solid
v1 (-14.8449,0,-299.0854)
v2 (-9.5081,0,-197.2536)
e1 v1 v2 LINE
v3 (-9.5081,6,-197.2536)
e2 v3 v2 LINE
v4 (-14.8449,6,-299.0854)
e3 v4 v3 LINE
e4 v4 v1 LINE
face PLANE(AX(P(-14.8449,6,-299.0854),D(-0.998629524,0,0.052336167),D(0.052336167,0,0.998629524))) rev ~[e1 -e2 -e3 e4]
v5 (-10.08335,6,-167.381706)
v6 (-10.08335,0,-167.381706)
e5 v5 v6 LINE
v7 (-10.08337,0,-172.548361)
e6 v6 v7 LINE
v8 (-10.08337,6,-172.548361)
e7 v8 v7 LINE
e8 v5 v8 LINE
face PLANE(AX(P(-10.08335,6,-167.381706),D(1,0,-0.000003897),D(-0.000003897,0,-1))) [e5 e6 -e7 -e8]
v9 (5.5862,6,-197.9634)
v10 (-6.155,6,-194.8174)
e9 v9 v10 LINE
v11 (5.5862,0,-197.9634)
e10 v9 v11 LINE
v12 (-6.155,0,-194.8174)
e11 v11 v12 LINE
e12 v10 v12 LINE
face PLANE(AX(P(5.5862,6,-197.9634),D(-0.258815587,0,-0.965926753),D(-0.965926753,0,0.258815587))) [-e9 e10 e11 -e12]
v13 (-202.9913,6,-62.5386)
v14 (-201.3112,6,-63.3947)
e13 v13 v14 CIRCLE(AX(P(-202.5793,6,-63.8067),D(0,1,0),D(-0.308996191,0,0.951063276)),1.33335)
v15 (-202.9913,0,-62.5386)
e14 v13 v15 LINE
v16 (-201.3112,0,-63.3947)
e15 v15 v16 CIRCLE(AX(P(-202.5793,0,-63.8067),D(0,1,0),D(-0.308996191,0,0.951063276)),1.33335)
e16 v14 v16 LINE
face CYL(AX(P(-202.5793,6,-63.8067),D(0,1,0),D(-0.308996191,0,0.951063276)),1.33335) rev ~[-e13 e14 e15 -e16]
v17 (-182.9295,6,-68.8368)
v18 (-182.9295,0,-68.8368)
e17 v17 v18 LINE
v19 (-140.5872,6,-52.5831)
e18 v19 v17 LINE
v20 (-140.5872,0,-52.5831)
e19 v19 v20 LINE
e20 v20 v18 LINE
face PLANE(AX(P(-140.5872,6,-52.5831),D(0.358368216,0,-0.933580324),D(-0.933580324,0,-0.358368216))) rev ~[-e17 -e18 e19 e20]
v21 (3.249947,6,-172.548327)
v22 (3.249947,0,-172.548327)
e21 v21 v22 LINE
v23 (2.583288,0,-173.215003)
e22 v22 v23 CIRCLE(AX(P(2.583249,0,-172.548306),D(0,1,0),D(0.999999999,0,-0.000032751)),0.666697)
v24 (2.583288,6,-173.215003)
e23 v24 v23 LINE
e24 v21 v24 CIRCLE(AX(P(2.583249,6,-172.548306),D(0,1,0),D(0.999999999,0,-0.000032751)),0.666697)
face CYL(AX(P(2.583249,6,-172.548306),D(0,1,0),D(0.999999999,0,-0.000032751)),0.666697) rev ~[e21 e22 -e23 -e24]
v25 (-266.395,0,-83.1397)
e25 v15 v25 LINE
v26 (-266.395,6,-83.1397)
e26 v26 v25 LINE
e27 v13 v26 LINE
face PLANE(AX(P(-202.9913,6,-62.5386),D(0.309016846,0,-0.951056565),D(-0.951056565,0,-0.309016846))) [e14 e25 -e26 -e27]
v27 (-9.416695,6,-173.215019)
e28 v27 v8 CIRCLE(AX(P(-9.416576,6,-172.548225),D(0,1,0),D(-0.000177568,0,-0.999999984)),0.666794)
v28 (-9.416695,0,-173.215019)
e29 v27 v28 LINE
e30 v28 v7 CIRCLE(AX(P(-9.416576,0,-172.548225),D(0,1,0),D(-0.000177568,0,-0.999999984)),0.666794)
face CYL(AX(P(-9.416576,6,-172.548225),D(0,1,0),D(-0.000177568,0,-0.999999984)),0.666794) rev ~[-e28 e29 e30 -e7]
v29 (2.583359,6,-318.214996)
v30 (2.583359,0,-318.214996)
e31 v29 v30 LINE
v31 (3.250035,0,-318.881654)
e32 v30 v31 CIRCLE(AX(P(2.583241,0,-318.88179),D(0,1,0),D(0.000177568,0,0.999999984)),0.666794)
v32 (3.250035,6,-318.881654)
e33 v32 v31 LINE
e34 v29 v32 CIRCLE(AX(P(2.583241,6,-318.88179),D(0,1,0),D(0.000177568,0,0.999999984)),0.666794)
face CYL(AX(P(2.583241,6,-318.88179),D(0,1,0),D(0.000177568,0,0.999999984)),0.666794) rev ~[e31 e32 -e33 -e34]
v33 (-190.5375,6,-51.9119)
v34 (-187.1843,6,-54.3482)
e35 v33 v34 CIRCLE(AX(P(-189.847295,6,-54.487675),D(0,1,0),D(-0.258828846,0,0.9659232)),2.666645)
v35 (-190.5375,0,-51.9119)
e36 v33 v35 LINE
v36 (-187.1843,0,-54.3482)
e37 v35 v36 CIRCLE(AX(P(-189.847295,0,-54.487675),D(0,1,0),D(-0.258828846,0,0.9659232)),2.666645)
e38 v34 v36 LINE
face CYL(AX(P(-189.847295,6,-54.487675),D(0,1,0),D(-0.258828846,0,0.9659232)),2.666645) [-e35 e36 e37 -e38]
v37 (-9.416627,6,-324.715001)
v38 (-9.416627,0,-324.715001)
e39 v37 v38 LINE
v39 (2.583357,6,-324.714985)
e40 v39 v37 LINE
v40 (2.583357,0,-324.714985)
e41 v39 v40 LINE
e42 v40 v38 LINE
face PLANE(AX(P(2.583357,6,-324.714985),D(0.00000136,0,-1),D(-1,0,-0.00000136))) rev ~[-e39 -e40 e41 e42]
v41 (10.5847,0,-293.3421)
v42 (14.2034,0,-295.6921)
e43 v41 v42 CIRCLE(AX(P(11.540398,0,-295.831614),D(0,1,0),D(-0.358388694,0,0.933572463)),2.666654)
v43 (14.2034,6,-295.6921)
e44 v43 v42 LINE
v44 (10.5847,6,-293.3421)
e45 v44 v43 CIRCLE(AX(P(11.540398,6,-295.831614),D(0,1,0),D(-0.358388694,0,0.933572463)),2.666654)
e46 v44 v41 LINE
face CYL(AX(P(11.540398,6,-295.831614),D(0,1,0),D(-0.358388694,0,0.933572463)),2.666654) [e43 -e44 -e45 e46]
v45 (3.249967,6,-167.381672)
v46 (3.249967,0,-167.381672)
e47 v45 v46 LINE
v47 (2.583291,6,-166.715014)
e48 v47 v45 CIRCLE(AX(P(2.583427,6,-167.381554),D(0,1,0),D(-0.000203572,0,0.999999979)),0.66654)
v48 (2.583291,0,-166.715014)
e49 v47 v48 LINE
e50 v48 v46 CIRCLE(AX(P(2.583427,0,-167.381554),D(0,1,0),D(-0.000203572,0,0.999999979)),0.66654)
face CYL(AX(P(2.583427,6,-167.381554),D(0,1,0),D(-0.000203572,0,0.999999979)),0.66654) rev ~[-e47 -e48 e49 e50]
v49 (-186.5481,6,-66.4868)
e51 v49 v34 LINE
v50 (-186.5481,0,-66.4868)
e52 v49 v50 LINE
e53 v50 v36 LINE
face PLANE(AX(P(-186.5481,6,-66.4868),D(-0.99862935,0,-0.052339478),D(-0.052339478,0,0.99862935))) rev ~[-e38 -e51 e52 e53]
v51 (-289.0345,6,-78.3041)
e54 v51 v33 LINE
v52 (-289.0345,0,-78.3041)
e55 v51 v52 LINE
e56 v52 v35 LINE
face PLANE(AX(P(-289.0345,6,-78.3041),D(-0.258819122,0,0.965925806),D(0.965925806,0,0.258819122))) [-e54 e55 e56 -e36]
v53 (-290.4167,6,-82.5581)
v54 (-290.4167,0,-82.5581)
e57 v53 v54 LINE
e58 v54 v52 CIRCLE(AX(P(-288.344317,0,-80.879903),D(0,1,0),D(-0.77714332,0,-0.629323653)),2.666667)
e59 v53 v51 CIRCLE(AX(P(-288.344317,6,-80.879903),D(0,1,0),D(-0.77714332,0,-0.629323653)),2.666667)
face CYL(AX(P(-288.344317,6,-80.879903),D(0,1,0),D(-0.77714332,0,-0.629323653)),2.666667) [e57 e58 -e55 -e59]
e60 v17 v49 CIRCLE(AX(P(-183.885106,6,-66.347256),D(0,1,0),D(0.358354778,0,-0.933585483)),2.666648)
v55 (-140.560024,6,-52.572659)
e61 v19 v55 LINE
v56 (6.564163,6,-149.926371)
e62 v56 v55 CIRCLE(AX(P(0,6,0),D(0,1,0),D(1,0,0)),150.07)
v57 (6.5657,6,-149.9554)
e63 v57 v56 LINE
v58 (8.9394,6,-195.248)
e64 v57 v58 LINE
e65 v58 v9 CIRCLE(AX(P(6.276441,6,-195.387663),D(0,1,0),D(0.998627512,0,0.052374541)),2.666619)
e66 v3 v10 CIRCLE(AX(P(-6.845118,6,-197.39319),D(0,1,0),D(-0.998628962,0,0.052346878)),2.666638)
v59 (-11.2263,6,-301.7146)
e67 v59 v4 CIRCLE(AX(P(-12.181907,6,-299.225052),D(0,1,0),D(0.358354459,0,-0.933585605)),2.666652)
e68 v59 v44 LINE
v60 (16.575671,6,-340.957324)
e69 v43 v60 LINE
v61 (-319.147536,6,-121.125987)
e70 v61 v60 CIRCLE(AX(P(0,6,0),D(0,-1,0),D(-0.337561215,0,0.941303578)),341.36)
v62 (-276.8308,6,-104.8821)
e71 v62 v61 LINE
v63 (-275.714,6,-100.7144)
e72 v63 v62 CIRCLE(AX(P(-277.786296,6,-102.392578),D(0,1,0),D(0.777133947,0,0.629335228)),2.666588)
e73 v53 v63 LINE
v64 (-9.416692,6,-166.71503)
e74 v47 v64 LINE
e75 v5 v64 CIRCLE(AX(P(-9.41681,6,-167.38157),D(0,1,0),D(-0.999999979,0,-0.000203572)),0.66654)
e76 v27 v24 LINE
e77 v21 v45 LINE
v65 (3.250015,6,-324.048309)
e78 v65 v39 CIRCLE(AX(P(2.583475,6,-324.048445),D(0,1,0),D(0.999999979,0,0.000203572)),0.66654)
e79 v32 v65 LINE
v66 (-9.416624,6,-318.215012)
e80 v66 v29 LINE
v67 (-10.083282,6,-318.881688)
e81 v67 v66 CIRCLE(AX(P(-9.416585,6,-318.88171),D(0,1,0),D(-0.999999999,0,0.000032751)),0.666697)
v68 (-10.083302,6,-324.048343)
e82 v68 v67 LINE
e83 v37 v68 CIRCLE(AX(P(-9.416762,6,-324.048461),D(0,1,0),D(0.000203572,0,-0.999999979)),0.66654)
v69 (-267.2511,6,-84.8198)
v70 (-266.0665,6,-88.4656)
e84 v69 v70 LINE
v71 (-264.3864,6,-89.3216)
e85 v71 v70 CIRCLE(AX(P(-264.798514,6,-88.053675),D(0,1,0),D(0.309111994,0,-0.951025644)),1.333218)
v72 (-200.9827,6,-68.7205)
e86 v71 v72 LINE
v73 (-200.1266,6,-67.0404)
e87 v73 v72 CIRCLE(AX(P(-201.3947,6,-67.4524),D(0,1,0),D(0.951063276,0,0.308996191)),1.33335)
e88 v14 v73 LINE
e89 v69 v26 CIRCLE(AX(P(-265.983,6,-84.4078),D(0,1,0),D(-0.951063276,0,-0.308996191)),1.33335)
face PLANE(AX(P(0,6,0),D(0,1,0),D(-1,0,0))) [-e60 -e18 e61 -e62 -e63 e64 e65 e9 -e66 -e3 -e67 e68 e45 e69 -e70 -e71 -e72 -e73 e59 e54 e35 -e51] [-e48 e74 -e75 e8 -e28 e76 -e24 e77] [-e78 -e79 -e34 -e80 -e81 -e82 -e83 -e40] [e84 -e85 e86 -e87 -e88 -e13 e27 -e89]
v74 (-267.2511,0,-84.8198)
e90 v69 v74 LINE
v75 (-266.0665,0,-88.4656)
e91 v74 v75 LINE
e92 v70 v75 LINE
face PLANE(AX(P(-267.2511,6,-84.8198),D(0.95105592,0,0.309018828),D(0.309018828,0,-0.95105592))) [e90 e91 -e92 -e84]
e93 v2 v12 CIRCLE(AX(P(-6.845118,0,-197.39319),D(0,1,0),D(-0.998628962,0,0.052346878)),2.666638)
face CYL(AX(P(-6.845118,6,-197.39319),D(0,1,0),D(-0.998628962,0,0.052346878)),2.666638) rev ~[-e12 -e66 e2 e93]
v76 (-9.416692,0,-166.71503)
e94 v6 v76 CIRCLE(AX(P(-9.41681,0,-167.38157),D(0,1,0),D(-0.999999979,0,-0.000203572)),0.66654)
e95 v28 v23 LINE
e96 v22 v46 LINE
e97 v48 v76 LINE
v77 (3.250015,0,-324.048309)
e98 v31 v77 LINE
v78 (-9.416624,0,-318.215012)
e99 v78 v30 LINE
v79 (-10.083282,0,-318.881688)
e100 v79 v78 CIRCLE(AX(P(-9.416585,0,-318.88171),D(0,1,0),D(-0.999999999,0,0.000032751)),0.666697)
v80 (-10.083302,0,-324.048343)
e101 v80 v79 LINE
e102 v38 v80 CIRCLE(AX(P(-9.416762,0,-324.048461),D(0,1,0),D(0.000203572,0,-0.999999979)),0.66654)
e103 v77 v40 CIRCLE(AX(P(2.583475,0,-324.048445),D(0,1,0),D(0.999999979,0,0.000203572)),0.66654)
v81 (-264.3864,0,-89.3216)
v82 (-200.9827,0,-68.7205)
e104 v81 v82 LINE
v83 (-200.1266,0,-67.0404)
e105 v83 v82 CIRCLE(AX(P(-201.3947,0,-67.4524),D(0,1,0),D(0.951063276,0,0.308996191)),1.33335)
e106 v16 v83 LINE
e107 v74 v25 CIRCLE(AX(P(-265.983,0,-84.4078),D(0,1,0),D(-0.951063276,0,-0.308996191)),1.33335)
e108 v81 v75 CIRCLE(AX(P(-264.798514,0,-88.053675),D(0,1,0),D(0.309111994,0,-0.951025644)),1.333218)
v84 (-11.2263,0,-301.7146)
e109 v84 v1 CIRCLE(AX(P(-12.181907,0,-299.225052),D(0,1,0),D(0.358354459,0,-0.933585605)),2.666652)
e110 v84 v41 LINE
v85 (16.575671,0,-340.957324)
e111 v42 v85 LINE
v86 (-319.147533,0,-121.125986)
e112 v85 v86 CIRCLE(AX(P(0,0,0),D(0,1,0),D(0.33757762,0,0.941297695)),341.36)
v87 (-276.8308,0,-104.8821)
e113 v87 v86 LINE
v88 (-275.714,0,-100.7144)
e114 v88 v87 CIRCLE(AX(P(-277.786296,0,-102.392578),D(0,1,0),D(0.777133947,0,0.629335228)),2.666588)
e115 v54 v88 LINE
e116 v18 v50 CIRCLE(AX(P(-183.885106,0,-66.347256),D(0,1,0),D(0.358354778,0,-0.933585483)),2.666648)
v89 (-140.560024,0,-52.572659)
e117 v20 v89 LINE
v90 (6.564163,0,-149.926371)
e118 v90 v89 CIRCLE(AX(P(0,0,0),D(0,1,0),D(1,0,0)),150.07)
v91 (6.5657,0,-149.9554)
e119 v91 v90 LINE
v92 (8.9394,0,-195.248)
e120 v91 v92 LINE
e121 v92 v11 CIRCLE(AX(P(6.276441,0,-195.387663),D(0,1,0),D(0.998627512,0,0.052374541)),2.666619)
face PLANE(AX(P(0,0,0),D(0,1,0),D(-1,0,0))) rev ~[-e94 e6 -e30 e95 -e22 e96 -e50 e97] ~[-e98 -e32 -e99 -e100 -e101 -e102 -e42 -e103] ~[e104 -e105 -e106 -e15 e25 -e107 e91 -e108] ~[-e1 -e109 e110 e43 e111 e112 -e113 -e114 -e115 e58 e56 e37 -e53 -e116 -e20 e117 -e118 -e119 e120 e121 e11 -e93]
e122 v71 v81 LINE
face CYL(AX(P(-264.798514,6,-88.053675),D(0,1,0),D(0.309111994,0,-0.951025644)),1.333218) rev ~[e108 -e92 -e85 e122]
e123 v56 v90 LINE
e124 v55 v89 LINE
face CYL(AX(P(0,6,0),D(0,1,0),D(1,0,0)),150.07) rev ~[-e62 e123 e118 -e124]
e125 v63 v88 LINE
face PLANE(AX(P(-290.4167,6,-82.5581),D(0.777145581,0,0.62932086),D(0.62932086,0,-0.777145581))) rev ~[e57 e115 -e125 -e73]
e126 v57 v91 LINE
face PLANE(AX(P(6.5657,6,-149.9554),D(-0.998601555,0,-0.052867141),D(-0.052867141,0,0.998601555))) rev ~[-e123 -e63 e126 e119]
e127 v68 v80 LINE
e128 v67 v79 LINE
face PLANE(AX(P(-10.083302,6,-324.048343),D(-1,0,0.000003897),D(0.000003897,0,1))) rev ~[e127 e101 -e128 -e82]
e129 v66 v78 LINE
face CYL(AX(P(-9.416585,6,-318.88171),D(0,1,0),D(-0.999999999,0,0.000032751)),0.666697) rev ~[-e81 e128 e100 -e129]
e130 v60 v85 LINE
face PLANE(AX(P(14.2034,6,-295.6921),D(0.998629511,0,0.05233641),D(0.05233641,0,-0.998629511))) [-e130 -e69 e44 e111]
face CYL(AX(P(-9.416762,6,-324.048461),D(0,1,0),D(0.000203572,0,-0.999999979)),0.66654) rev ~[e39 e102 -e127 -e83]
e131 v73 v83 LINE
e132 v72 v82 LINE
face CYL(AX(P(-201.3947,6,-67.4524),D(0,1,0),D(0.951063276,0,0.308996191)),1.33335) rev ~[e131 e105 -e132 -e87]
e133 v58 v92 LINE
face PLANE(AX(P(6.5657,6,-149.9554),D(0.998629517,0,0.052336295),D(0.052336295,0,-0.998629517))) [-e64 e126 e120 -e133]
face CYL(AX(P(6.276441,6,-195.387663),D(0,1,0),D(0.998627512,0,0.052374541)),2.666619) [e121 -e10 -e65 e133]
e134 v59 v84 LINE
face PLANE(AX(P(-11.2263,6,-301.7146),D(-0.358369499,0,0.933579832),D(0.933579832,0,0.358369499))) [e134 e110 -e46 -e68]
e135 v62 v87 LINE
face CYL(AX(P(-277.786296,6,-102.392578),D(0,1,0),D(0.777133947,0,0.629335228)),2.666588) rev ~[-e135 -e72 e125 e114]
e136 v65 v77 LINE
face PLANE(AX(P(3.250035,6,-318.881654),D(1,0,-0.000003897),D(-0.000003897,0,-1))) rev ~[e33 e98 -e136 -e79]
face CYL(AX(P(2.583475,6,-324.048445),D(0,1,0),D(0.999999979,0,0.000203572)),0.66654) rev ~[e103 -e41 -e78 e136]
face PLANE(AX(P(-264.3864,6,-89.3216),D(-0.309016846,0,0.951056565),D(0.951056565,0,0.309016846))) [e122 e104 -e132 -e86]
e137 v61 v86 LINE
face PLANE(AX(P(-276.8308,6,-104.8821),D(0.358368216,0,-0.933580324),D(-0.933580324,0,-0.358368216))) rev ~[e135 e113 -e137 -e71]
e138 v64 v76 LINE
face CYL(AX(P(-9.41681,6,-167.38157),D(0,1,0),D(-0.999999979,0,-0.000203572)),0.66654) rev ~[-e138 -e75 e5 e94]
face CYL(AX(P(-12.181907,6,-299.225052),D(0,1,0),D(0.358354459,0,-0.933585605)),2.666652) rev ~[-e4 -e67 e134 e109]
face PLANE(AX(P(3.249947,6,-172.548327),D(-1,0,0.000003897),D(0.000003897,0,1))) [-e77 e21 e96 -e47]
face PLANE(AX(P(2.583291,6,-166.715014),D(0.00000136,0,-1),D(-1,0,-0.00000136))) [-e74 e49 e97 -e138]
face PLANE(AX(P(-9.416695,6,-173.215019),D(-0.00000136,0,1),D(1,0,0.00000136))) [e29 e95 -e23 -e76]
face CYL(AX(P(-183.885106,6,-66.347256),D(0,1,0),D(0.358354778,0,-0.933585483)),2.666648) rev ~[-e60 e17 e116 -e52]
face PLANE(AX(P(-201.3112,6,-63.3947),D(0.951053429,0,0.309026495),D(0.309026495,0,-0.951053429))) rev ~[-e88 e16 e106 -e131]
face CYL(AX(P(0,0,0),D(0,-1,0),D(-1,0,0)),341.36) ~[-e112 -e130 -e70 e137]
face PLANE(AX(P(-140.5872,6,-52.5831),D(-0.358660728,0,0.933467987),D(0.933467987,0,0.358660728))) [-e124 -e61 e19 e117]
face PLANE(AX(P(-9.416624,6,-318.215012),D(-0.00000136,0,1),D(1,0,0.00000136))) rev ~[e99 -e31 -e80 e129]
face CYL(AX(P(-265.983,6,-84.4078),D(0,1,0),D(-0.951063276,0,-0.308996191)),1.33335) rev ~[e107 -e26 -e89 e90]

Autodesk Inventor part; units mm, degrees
ref_plane "YZ Plane" through (0, 0, 0) normal (1, 0, 0) x (0, 1, 0)
ref_plane "XZ Plane" through (0, 0, 0) normal (0, 1, 0) x (-1, 0, 0)
sketch "Sketch1" plane through (0, 0, 0) normal (0, 1, 0) x (-1, 0, 0)
  circle A0 centre (0, 0) radius 341.36
  circle A1 centre (0, 0) radius 150.07
  dimension "d84" = 300.14
  dimension "d85" = 682.72
extrude "Extrusion3" add sketch "Sketch1" along normal blind 6 contours A0 | A1
sketch "Sketch2" plane through (0, 6, 0) normal (0, 1, 0) x (1, 0, 0)
  circle A0 centre (0, 0) radius 245.715 construction
  line L0 (245.7148, 0.3131) -> (341.6521, -0.0088)
  line L1 (-0.6289, 279.0483) -> (-0.0524, 279.0483)
  line L2 (3.25, 279.0483) -> (3.25, 212.3817)
  line L3 (0.5377, 212.3817) -> (-0.051, 212.3817)
  line L4 (-3.25, 212.3817) -> (-3.25, 279.0483)
  arc A1 (-3.25, 212.3817) -> (-1.9167, 211.0483) centre (-1.9167, 212.3817) ccw
  arc A2 (1.9167, 211.0483) -> (3.25, 212.3817) centre (1.9167, 212.3817) ccw
  arc A3 (-1.9167, 280.3817) -> (-3.25, 279.0483) centre (-1.9167, 279.0483) ccw
  arc A4 (3.25, 279.0483) -> (1.9167, 280.3817) centre (1.9167, 279.0483) ccw
  line L5 (-1.9167, 280.3817) -> (1.9167, 280.3817)
  line L6 (-1.9167, 211.0483) -> (1.9167, 211.0483)
  line L7 (0, 0) -> (0, 212.3817)
  line L8 (0, 280.3817) -> (0, 341.36)
  line L9 (0, 211.0483) -> (0, 245.715) construction
  line L10 (0, 280.3817) -> (0, 245.715) construction
  line L11 (-265.5851, 85.6325) -> (-265.4069, 86.1808)
  line L12 (-267.2511, 84.8198) -> (-266.0665, 88.4656)
  line L13 (-201.3112, 63.3947) -> (-200.1266, 67.0404)
  arc A5 (-267.2511, 84.8198) -> (-266.395, 83.1397) centre (-265.983, 84.4078) ccw
  arc A6 (-264.3864, 89.3216) -> (-266.0665, 88.4656) centre (-264.7985, 88.0535) ccw
  line L14 (-266.6588, 86.6427) -> (-233.6889, 75.9301) construction
  line L15 (-202.9913, 62.5386) -> (-266.395, 83.1397)
  line L16 (-264.3864, 89.3216) -> (-200.9827, 68.7205)
  line L17 (-200.7189, 65.2175) -> (-233.6889, 75.9301) construction
  arc A7 (-202.9913, 62.5386) -> (-201.3112, 63.3947) centre (-202.5793, 63.8067) ccw
  arc A8 (-200.1266, 67.0404) -> (-200.9827, 68.7205) centre (-201.3947, 67.4524) ccw
  line L18 (-201.8208, 66.141) -> (-202.0027, 65.5811)
  line L19 (-163.5117, -226.1245) -> (-163.9781, -225.7857)
  line L20 (-163.2536, -227.9601) -> (-166.3548, -225.7069)
  line L21 (-122.5005, -171.8683) -> (-125.6017, -169.6151)
  arc A9 (-163.2536, -227.9601) -> (-161.3912, -227.6651) centre (-162.4699, -226.8814) ccw
  arc A10 (-166.6498, -223.8445) -> (-166.3548, -225.7069) centre (-165.5711, -224.6283) ccw
  line L22 (-164.8042, -226.8335) -> (-144.4277, -198.7876) construction
  line L23 (-122.2055, -173.7307) -> (-161.3912, -227.6651)
  line L24 (-166.6498, -223.8445) -> (-127.4641, -169.9101)
  line L25 (-124.0511, -170.7417) -> (-144.4277, -198.7876) construction
  arc A11 (-122.2055, -173.7307) -> (-122.5005, -171.8683) centre (-123.2842, -172.947) ccw
  arc A12 (-125.6017, -169.6151) -> (-127.4641, -169.9101) centre (-126.3854, -170.6938) ccw
  line L26 (-125.2699, -171.5043) -> (-124.7936, -171.8503)
  line L27 (164.5293, -225.3852) -> (164.0629, -225.724)
  line L28 (166.3548, -225.7069) -> (163.2536, -227.9601)
  line L29 (125.6017, -169.6151) -> (122.5005, -171.8683)
  arc A13 (166.3548, -225.7069) -> (166.6498, -223.8445) centre (165.5711, -224.6283) ccw
  arc A14 (161.3912, -227.6651) -> (163.2536, -227.9601) centre (162.4699, -226.8814) ccw
  line L30 (164.8042, -226.8335) -> (144.4277, -198.7876) construction
  line L31 (127.4641, -169.9101) -> (166.6498, -223.8445)
  line L32 (161.3912, -227.6651) -> (122.2055, -173.7307)
  line L33 (124.0511, -170.7417) -> (144.4277, -198.7876) construction
  arc A15 (127.4641, -169.9101) -> (125.6017, -169.6151) centre (126.3854, -170.6938) ccw
  arc A16 (122.5005, -171.8683) -> (122.2055, -173.7307) centre (123.2842, -172.947) ccw
  line L34 (124.3998, -172.1365) -> (124.8761, -171.7904)
  line L35 (265.1964, 86.8288) -> (265.3745, 86.2805)
  line L36 (266.0665, 88.4656) -> (267.2511, 84.8198)
  line L37 (200.1266, 67.0404) -> (201.3112, 63.3947)
  arc A17 (266.0665, 88.4656) -> (264.3864, 89.3216) centre (264.7985, 88.0535) ccw
  arc A18 (266.395, 83.1397) -> (267.2511, 84.8198) centre (265.983, 84.4078) ccw
  line L38 (266.6588, 86.6427) -> (233.6889, 75.9301) construction
  line L39 (200.9827, 68.7205) -> (264.3864, 89.3216)
  line L40 (266.395, 83.1397) -> (202.9913, 62.5386)
  line L41 (200.7189, 65.2175) -> (233.6889, 75.9301) construction
  arc A19 (200.9827, 68.7205) -> (200.1266, 67.0404) centre (201.3947, 67.4524) ccw
  arc A20 (201.3112, 63.3947) -> (202.9913, 62.5386) centre (202.5793, 63.8067) ccw
  line L42 (202.1531, 65.1181) -> (201.9712, 65.678)
  point P0 (-201.987, 65.6295)
  point P1 (-124.8348, -171.8204)
  point P2 (124.8348, -171.8204)
  point P3 (201.987, 65.6295)
  dimension "d21" = 6.5
  dimension "d23" = 66.6667
  dimension "d24" = 2.6667
  dimension "d25" = 2.6667
  dimension "d32" = 1.3333
  dimension "d33" = 1.3333
  dimension "d41" = 90
  dimension "d42" = 3.25
  dimension "d43" = 90
  dimension "d49" = 360
  dimension "d86" = 491.43
extrude "Extrusion4" cut sketch "Sketch2" against normal through all
sketch "Sketch3" plane through (0, 6, 0) normal (0, 1, 0) x (1, 0, 0)
  arc A0 (-115.2299, -321.3234) -> (115.2355, -321.3214) centre (0, 0) ccw
  arc A1 (-77.7244, -128.3741) -> (77.7297, -128.3709) centre (0, 0) ccw
  line L0 (-122.1811, -173.696) -> (-161.3589, -227.6196)
  line L1 (-115.2299, -321.3234) -> (-77.7244, -128.3741)
  line L2 (0, 0) -> (0, -341.2918)
  line L3 (115.2355, -321.3214) -> (77.7297, -128.3709)
  line L4 (161.3912, -227.6651) -> (122.2055, -173.7307) projected
  dimension "d52" = 25
  dimension "d87" = 150.07
  dimension "d88" = 341.36
  dimension "d89" = 25
  dimension "d90" = 11
  dimension "d91" = 11
extrude "Extrusion5" cut sketch "Sketch3" against normal blind 10
sketch "Sketch5" plane through (0, 6, 0) normal (0, 1, 0) x (1, 0, 0)
  line L0 (3.25, 279.0483) -> (3.25, 212.3817) projected
  line L1 (5.5862, 197.9634) -> (-6.155, 194.8174)
  line L2 (-11.2263, 301.7146) -> (10.5847, 293.3421)
  line L3 (6.5657, 149.9554) -> (8.9394, 195.248)
  line L4 (14.2034, 295.6921) -> (16.5771, 340.9846)
  arc A0 (10.5847, 293.3421) -> (14.2034, 295.6921) centre (11.5404, 295.8316) ccw
  arc A1 (8.9394, 195.248) -> (5.5862, 197.9634) centre (6.2763, 195.3876) ccw
  arc A2 (-11.2263, 301.7146) -> (-14.8449, 299.0854) centre (-12.1819, 299.225) ccw
  line L5 (-3.25, 212.3817) -> (-3.25, 279.0483) projected
  line L6 (-14.8449, 299.0854) -> (-9.5081, 197.2536)
  arc A3 (-9.5081, 197.2536) -> (-6.155, 194.8174) centre (-6.8451, 197.3932) ccw
  line L7 (-1.9167, 211.0483) -> (1.9167, 211.0483) projected
  line L8 (1.9167, 280.3817) -> (-1.9167, 280.3817) projected
  arc A4 (115.2355, -321.3214) -> (-115.2299, -321.3234) centre (0, 0) ccw
  line L9 (16.5771, 340.9846) -> (16.5774, 340.9903)
  arc A5 (-190.5375, 51.9119) -> (-187.1843, 54.3482) centre (-189.8473, 54.4877) ccw
  line L10 (-186.5481, 66.4868) -> (-187.1843, 54.3482)
  arc A6 (-182.9295, 68.8368) -> (-186.5481, 66.4868) centre (-183.8851, 66.3472) ccw
  arc A7 (-275.714, 100.7144) -> (-276.8308, 104.8821) centre (-277.7864, 102.3926) ccw
  line L11 (-289.0345, 78.3041) -> (-190.5375, 51.9119)
  arc A8 (-290.4167, 82.5581) -> (-289.0345, 78.3041) centre (-288.3443, 80.8799) ccw
  line L12 (-290.4167, 82.5581) -> (-275.714, 100.7144)
  line L13 (-276.8308, 104.8821) -> (-319.1731, 121.1358)
  line L14 (-140.5872, 52.5831) -> (-182.9295, 68.8368)
  line L15 (-319.1731, 121.1358) -> (-319.1784, 121.1378)
  arc A9 (184.6611, 69.9975) -> (183.3803, 66.0556) centre (185.6168, 67.508) ccw
  line L16 (190.0006, 55.8613) -> (183.3803, 66.0556)
  arc A10 (188.4543, 51.8331) -> (190.0006, 55.8613) centre (187.7641, 54.4089) ccw
  arc A11 (282.2558, 80.581) -> (285.609, 77.8656) centre (284.9188, 80.4414) ccw
  line L17 (279.8598, 106.5409) -> (184.6611, 69.9975)
  arc A12 (283.4785, 103.9117) -> (279.8598, 106.5409) centre (280.8155, 104.0513) ccw
  line L18 (283.4785, 103.9117) -> (282.2558, 80.581)
  line L19 (285.609, 77.8656) -> (329.4183, 89.6043)
  line L20 (144.645, 40.0945) -> (188.4543, 51.8331)
  line L21 (329.4183, 89.6043) -> (329.4238, 89.6058)
  circle A13 centre (0, 0) radius 150.07
  line L22 (-140.5872, 52.5831) -> (-140.5479, 52.568)
  line L23 (144.645, 40.0945) -> (144.5122, 40.0589)
  line L24 (6.5657, 149.9554) -> (6.5621, 149.8874)
  arc A14 (-77.7244, -128.3741) -> (77.7297, -128.3709) centre (0, 0) ccw projected
  arc A15 (115.2355, -321.3214) -> (-115.2299, -321.3234) centre (0, 0) ccw projected
  line L25 (77.7297, -128.3709) -> (115.2355, -321.3214)
  line L26 (-77.7244, -128.3741) -> (-115.2299, -321.3234)
  point P0 (-77.7399, -128.3998)
  point P1 (77.7399, -128.3998)
  point P2 (-319.1475, 121.126)
  point P3 (-140.56, 52.5727)
  point P4 (6.5642, 149.9264)
  point P5 (16.5757, 340.9573)
  point P6 (329.3918, 89.5972)
  point P7 (144.6169, 40.0869)
  dimension "d63" = 2.6667
  dimension "d64" = 3
  dimension "d66" = 3
  dimension "d67" = 2.6667
  dimension "d68" = 2.6667
  dimension "d70" = 72
  dimension "d71" = 72
  dimension "d94" = 300.14
  dimension "d95" = 682.72
sketch "Sketch6" plane through (0, 6, 0) normal (0, 1, 0) x (1, 0, 0)
  line L0 (188.7727, -264.2184) -> (198.4809, -257.165)
  line L1 (194.6603, -251.9064) -> (184.9521, -258.9598)
  line L2 (161.3912, -227.6651) -> (122.2055, -173.7307) projected
  line L3 (166.3548, -225.7069) -> (163.2536, -227.9601) projected
  arc A0 (195.5915, -252.0539) -> (194.6603, -251.9064) centre (195.0522, -252.4457) ccw
  arc A1 (198.4809, -257.165) -> (198.6284, -256.2338) centre (198.0891, -256.6256) ccw
  arc A2 (187.8415, -264.0709) -> (188.7727, -264.2184) centre (188.3809, -263.6791) ccw
  arc A3 (184.9521, -258.9598) -> (184.8046, -259.891) centre (185.344, -259.4991) ccw
  line L4 (184.8046, -259.891) -> (187.8415, -264.0709)
  line L5 (198.6284, -256.2338) -> (195.5915, -252.0539)
  line L6 (122.2055, -173.7307) -> (161.3912, -227.6651) projected
  line L7 (141.7983, -200.6979) -> (147.057, -196.8773)
  line L8 (166.6498, -223.8445) -> (127.4641, -169.9101) projected
  line L9 (95.9027, -136.3937) -> (105.6109, -129.3403)
  line L10 (109.4315, -134.5989) -> (99.7233, -141.6523)
  arc A4 (109.4315, -134.5989) -> (109.579, -133.6677) centre (109.0396, -134.0596) ccw
  arc A5 (106.5421, -129.4878) -> (105.6109, -129.3403) centre (106.0027, -129.8796) ccw
  arc A6 (95.9027, -136.3937) -> (95.7552, -137.3249) centre (96.2945, -136.9331) ccw
  arc A7 (98.7921, -141.5048) -> (99.7233, -141.6523) centre (99.3314, -141.113) ccw
  line L11 (98.7921, -141.5048) -> (95.7552, -137.3249)
  line L12 (106.5421, -129.4878) -> (109.579, -133.6677)
  point P0 (0, 0)
  dimension "d104" = 6.5
  dimension "d105" = 12
  dimension "d108" = 1.3333
  dimension "d109" = 1.3333
  dimension "d110" = 1.3333
  dimension "d111" = 1.3333
  dimension "d112" = 0
  dimension "d149" = 145
  dimension "d150" = 90
  dimension "d151" = 90
  dimension "d152" = 90
  dimension "d153" = 90
extrude "Extrusion7" cut sketch "Sketch6" against normal through all
ref_plane "Work Plane1" through (265.3907, 0, -86.2307) normal (0.309, 0, 0.9511) x (0.9511, 0, -0.309)
pattern_circular "Circular Pattern2" count 2 over 72 about axis through (0, -10, 0) along (0, 1, 0) of "Extrusion7"
pattern_circular "Circular Pattern3" count 2 over 144 about axis through (0, -10, 0) along (0, 1, 0) of "Extrusion7"
mirror "Mirror3" about plane through (0, 0, 0) normal (1, 0, 0) of "Extrusion7"
pattern_circular "Circular Pattern4" count 2 over 144 about axis through (0, -10, 0) along (0, -1, 0) of "Extrusion7"
extrude "Extrusion10" cut sketch "Sketch5" against normal through all contours L1 A3 L6 A2 L2 A0 L4 A4 L19 A11 L18 A12 L17 A9 L16 A10 L20 L23 A13 L24 L3 A1 | A13 | L23 L20 A10 L16 A9 L17 A12 L18 A11 L19 A4 L25 A13 | A13 L26 A4 L13 A7 L12 A8 L11 A5 L10 A6 L14 L22
equation "\"BendRadius\" = Thickness"
equation "\"BendReliefWidth\" = Thickness"
equation "\"BendReliefDepth\" = 0.5 * Thickness"
equation "\"CornerReliefSize\" = 4 * Thickness"
equation "\"MinimumRemnant\" = 2 * Thickness"
equation "\"TransitionRadius\" = BendRadius"
equation "\"JacobiRadiusSize\" = BendRadius"
equation "\"GapSize\" = Thickness"
equation "\"Thickness\" = 0.5"
properties part number "Ring D2" material "Wood (Maple)"
